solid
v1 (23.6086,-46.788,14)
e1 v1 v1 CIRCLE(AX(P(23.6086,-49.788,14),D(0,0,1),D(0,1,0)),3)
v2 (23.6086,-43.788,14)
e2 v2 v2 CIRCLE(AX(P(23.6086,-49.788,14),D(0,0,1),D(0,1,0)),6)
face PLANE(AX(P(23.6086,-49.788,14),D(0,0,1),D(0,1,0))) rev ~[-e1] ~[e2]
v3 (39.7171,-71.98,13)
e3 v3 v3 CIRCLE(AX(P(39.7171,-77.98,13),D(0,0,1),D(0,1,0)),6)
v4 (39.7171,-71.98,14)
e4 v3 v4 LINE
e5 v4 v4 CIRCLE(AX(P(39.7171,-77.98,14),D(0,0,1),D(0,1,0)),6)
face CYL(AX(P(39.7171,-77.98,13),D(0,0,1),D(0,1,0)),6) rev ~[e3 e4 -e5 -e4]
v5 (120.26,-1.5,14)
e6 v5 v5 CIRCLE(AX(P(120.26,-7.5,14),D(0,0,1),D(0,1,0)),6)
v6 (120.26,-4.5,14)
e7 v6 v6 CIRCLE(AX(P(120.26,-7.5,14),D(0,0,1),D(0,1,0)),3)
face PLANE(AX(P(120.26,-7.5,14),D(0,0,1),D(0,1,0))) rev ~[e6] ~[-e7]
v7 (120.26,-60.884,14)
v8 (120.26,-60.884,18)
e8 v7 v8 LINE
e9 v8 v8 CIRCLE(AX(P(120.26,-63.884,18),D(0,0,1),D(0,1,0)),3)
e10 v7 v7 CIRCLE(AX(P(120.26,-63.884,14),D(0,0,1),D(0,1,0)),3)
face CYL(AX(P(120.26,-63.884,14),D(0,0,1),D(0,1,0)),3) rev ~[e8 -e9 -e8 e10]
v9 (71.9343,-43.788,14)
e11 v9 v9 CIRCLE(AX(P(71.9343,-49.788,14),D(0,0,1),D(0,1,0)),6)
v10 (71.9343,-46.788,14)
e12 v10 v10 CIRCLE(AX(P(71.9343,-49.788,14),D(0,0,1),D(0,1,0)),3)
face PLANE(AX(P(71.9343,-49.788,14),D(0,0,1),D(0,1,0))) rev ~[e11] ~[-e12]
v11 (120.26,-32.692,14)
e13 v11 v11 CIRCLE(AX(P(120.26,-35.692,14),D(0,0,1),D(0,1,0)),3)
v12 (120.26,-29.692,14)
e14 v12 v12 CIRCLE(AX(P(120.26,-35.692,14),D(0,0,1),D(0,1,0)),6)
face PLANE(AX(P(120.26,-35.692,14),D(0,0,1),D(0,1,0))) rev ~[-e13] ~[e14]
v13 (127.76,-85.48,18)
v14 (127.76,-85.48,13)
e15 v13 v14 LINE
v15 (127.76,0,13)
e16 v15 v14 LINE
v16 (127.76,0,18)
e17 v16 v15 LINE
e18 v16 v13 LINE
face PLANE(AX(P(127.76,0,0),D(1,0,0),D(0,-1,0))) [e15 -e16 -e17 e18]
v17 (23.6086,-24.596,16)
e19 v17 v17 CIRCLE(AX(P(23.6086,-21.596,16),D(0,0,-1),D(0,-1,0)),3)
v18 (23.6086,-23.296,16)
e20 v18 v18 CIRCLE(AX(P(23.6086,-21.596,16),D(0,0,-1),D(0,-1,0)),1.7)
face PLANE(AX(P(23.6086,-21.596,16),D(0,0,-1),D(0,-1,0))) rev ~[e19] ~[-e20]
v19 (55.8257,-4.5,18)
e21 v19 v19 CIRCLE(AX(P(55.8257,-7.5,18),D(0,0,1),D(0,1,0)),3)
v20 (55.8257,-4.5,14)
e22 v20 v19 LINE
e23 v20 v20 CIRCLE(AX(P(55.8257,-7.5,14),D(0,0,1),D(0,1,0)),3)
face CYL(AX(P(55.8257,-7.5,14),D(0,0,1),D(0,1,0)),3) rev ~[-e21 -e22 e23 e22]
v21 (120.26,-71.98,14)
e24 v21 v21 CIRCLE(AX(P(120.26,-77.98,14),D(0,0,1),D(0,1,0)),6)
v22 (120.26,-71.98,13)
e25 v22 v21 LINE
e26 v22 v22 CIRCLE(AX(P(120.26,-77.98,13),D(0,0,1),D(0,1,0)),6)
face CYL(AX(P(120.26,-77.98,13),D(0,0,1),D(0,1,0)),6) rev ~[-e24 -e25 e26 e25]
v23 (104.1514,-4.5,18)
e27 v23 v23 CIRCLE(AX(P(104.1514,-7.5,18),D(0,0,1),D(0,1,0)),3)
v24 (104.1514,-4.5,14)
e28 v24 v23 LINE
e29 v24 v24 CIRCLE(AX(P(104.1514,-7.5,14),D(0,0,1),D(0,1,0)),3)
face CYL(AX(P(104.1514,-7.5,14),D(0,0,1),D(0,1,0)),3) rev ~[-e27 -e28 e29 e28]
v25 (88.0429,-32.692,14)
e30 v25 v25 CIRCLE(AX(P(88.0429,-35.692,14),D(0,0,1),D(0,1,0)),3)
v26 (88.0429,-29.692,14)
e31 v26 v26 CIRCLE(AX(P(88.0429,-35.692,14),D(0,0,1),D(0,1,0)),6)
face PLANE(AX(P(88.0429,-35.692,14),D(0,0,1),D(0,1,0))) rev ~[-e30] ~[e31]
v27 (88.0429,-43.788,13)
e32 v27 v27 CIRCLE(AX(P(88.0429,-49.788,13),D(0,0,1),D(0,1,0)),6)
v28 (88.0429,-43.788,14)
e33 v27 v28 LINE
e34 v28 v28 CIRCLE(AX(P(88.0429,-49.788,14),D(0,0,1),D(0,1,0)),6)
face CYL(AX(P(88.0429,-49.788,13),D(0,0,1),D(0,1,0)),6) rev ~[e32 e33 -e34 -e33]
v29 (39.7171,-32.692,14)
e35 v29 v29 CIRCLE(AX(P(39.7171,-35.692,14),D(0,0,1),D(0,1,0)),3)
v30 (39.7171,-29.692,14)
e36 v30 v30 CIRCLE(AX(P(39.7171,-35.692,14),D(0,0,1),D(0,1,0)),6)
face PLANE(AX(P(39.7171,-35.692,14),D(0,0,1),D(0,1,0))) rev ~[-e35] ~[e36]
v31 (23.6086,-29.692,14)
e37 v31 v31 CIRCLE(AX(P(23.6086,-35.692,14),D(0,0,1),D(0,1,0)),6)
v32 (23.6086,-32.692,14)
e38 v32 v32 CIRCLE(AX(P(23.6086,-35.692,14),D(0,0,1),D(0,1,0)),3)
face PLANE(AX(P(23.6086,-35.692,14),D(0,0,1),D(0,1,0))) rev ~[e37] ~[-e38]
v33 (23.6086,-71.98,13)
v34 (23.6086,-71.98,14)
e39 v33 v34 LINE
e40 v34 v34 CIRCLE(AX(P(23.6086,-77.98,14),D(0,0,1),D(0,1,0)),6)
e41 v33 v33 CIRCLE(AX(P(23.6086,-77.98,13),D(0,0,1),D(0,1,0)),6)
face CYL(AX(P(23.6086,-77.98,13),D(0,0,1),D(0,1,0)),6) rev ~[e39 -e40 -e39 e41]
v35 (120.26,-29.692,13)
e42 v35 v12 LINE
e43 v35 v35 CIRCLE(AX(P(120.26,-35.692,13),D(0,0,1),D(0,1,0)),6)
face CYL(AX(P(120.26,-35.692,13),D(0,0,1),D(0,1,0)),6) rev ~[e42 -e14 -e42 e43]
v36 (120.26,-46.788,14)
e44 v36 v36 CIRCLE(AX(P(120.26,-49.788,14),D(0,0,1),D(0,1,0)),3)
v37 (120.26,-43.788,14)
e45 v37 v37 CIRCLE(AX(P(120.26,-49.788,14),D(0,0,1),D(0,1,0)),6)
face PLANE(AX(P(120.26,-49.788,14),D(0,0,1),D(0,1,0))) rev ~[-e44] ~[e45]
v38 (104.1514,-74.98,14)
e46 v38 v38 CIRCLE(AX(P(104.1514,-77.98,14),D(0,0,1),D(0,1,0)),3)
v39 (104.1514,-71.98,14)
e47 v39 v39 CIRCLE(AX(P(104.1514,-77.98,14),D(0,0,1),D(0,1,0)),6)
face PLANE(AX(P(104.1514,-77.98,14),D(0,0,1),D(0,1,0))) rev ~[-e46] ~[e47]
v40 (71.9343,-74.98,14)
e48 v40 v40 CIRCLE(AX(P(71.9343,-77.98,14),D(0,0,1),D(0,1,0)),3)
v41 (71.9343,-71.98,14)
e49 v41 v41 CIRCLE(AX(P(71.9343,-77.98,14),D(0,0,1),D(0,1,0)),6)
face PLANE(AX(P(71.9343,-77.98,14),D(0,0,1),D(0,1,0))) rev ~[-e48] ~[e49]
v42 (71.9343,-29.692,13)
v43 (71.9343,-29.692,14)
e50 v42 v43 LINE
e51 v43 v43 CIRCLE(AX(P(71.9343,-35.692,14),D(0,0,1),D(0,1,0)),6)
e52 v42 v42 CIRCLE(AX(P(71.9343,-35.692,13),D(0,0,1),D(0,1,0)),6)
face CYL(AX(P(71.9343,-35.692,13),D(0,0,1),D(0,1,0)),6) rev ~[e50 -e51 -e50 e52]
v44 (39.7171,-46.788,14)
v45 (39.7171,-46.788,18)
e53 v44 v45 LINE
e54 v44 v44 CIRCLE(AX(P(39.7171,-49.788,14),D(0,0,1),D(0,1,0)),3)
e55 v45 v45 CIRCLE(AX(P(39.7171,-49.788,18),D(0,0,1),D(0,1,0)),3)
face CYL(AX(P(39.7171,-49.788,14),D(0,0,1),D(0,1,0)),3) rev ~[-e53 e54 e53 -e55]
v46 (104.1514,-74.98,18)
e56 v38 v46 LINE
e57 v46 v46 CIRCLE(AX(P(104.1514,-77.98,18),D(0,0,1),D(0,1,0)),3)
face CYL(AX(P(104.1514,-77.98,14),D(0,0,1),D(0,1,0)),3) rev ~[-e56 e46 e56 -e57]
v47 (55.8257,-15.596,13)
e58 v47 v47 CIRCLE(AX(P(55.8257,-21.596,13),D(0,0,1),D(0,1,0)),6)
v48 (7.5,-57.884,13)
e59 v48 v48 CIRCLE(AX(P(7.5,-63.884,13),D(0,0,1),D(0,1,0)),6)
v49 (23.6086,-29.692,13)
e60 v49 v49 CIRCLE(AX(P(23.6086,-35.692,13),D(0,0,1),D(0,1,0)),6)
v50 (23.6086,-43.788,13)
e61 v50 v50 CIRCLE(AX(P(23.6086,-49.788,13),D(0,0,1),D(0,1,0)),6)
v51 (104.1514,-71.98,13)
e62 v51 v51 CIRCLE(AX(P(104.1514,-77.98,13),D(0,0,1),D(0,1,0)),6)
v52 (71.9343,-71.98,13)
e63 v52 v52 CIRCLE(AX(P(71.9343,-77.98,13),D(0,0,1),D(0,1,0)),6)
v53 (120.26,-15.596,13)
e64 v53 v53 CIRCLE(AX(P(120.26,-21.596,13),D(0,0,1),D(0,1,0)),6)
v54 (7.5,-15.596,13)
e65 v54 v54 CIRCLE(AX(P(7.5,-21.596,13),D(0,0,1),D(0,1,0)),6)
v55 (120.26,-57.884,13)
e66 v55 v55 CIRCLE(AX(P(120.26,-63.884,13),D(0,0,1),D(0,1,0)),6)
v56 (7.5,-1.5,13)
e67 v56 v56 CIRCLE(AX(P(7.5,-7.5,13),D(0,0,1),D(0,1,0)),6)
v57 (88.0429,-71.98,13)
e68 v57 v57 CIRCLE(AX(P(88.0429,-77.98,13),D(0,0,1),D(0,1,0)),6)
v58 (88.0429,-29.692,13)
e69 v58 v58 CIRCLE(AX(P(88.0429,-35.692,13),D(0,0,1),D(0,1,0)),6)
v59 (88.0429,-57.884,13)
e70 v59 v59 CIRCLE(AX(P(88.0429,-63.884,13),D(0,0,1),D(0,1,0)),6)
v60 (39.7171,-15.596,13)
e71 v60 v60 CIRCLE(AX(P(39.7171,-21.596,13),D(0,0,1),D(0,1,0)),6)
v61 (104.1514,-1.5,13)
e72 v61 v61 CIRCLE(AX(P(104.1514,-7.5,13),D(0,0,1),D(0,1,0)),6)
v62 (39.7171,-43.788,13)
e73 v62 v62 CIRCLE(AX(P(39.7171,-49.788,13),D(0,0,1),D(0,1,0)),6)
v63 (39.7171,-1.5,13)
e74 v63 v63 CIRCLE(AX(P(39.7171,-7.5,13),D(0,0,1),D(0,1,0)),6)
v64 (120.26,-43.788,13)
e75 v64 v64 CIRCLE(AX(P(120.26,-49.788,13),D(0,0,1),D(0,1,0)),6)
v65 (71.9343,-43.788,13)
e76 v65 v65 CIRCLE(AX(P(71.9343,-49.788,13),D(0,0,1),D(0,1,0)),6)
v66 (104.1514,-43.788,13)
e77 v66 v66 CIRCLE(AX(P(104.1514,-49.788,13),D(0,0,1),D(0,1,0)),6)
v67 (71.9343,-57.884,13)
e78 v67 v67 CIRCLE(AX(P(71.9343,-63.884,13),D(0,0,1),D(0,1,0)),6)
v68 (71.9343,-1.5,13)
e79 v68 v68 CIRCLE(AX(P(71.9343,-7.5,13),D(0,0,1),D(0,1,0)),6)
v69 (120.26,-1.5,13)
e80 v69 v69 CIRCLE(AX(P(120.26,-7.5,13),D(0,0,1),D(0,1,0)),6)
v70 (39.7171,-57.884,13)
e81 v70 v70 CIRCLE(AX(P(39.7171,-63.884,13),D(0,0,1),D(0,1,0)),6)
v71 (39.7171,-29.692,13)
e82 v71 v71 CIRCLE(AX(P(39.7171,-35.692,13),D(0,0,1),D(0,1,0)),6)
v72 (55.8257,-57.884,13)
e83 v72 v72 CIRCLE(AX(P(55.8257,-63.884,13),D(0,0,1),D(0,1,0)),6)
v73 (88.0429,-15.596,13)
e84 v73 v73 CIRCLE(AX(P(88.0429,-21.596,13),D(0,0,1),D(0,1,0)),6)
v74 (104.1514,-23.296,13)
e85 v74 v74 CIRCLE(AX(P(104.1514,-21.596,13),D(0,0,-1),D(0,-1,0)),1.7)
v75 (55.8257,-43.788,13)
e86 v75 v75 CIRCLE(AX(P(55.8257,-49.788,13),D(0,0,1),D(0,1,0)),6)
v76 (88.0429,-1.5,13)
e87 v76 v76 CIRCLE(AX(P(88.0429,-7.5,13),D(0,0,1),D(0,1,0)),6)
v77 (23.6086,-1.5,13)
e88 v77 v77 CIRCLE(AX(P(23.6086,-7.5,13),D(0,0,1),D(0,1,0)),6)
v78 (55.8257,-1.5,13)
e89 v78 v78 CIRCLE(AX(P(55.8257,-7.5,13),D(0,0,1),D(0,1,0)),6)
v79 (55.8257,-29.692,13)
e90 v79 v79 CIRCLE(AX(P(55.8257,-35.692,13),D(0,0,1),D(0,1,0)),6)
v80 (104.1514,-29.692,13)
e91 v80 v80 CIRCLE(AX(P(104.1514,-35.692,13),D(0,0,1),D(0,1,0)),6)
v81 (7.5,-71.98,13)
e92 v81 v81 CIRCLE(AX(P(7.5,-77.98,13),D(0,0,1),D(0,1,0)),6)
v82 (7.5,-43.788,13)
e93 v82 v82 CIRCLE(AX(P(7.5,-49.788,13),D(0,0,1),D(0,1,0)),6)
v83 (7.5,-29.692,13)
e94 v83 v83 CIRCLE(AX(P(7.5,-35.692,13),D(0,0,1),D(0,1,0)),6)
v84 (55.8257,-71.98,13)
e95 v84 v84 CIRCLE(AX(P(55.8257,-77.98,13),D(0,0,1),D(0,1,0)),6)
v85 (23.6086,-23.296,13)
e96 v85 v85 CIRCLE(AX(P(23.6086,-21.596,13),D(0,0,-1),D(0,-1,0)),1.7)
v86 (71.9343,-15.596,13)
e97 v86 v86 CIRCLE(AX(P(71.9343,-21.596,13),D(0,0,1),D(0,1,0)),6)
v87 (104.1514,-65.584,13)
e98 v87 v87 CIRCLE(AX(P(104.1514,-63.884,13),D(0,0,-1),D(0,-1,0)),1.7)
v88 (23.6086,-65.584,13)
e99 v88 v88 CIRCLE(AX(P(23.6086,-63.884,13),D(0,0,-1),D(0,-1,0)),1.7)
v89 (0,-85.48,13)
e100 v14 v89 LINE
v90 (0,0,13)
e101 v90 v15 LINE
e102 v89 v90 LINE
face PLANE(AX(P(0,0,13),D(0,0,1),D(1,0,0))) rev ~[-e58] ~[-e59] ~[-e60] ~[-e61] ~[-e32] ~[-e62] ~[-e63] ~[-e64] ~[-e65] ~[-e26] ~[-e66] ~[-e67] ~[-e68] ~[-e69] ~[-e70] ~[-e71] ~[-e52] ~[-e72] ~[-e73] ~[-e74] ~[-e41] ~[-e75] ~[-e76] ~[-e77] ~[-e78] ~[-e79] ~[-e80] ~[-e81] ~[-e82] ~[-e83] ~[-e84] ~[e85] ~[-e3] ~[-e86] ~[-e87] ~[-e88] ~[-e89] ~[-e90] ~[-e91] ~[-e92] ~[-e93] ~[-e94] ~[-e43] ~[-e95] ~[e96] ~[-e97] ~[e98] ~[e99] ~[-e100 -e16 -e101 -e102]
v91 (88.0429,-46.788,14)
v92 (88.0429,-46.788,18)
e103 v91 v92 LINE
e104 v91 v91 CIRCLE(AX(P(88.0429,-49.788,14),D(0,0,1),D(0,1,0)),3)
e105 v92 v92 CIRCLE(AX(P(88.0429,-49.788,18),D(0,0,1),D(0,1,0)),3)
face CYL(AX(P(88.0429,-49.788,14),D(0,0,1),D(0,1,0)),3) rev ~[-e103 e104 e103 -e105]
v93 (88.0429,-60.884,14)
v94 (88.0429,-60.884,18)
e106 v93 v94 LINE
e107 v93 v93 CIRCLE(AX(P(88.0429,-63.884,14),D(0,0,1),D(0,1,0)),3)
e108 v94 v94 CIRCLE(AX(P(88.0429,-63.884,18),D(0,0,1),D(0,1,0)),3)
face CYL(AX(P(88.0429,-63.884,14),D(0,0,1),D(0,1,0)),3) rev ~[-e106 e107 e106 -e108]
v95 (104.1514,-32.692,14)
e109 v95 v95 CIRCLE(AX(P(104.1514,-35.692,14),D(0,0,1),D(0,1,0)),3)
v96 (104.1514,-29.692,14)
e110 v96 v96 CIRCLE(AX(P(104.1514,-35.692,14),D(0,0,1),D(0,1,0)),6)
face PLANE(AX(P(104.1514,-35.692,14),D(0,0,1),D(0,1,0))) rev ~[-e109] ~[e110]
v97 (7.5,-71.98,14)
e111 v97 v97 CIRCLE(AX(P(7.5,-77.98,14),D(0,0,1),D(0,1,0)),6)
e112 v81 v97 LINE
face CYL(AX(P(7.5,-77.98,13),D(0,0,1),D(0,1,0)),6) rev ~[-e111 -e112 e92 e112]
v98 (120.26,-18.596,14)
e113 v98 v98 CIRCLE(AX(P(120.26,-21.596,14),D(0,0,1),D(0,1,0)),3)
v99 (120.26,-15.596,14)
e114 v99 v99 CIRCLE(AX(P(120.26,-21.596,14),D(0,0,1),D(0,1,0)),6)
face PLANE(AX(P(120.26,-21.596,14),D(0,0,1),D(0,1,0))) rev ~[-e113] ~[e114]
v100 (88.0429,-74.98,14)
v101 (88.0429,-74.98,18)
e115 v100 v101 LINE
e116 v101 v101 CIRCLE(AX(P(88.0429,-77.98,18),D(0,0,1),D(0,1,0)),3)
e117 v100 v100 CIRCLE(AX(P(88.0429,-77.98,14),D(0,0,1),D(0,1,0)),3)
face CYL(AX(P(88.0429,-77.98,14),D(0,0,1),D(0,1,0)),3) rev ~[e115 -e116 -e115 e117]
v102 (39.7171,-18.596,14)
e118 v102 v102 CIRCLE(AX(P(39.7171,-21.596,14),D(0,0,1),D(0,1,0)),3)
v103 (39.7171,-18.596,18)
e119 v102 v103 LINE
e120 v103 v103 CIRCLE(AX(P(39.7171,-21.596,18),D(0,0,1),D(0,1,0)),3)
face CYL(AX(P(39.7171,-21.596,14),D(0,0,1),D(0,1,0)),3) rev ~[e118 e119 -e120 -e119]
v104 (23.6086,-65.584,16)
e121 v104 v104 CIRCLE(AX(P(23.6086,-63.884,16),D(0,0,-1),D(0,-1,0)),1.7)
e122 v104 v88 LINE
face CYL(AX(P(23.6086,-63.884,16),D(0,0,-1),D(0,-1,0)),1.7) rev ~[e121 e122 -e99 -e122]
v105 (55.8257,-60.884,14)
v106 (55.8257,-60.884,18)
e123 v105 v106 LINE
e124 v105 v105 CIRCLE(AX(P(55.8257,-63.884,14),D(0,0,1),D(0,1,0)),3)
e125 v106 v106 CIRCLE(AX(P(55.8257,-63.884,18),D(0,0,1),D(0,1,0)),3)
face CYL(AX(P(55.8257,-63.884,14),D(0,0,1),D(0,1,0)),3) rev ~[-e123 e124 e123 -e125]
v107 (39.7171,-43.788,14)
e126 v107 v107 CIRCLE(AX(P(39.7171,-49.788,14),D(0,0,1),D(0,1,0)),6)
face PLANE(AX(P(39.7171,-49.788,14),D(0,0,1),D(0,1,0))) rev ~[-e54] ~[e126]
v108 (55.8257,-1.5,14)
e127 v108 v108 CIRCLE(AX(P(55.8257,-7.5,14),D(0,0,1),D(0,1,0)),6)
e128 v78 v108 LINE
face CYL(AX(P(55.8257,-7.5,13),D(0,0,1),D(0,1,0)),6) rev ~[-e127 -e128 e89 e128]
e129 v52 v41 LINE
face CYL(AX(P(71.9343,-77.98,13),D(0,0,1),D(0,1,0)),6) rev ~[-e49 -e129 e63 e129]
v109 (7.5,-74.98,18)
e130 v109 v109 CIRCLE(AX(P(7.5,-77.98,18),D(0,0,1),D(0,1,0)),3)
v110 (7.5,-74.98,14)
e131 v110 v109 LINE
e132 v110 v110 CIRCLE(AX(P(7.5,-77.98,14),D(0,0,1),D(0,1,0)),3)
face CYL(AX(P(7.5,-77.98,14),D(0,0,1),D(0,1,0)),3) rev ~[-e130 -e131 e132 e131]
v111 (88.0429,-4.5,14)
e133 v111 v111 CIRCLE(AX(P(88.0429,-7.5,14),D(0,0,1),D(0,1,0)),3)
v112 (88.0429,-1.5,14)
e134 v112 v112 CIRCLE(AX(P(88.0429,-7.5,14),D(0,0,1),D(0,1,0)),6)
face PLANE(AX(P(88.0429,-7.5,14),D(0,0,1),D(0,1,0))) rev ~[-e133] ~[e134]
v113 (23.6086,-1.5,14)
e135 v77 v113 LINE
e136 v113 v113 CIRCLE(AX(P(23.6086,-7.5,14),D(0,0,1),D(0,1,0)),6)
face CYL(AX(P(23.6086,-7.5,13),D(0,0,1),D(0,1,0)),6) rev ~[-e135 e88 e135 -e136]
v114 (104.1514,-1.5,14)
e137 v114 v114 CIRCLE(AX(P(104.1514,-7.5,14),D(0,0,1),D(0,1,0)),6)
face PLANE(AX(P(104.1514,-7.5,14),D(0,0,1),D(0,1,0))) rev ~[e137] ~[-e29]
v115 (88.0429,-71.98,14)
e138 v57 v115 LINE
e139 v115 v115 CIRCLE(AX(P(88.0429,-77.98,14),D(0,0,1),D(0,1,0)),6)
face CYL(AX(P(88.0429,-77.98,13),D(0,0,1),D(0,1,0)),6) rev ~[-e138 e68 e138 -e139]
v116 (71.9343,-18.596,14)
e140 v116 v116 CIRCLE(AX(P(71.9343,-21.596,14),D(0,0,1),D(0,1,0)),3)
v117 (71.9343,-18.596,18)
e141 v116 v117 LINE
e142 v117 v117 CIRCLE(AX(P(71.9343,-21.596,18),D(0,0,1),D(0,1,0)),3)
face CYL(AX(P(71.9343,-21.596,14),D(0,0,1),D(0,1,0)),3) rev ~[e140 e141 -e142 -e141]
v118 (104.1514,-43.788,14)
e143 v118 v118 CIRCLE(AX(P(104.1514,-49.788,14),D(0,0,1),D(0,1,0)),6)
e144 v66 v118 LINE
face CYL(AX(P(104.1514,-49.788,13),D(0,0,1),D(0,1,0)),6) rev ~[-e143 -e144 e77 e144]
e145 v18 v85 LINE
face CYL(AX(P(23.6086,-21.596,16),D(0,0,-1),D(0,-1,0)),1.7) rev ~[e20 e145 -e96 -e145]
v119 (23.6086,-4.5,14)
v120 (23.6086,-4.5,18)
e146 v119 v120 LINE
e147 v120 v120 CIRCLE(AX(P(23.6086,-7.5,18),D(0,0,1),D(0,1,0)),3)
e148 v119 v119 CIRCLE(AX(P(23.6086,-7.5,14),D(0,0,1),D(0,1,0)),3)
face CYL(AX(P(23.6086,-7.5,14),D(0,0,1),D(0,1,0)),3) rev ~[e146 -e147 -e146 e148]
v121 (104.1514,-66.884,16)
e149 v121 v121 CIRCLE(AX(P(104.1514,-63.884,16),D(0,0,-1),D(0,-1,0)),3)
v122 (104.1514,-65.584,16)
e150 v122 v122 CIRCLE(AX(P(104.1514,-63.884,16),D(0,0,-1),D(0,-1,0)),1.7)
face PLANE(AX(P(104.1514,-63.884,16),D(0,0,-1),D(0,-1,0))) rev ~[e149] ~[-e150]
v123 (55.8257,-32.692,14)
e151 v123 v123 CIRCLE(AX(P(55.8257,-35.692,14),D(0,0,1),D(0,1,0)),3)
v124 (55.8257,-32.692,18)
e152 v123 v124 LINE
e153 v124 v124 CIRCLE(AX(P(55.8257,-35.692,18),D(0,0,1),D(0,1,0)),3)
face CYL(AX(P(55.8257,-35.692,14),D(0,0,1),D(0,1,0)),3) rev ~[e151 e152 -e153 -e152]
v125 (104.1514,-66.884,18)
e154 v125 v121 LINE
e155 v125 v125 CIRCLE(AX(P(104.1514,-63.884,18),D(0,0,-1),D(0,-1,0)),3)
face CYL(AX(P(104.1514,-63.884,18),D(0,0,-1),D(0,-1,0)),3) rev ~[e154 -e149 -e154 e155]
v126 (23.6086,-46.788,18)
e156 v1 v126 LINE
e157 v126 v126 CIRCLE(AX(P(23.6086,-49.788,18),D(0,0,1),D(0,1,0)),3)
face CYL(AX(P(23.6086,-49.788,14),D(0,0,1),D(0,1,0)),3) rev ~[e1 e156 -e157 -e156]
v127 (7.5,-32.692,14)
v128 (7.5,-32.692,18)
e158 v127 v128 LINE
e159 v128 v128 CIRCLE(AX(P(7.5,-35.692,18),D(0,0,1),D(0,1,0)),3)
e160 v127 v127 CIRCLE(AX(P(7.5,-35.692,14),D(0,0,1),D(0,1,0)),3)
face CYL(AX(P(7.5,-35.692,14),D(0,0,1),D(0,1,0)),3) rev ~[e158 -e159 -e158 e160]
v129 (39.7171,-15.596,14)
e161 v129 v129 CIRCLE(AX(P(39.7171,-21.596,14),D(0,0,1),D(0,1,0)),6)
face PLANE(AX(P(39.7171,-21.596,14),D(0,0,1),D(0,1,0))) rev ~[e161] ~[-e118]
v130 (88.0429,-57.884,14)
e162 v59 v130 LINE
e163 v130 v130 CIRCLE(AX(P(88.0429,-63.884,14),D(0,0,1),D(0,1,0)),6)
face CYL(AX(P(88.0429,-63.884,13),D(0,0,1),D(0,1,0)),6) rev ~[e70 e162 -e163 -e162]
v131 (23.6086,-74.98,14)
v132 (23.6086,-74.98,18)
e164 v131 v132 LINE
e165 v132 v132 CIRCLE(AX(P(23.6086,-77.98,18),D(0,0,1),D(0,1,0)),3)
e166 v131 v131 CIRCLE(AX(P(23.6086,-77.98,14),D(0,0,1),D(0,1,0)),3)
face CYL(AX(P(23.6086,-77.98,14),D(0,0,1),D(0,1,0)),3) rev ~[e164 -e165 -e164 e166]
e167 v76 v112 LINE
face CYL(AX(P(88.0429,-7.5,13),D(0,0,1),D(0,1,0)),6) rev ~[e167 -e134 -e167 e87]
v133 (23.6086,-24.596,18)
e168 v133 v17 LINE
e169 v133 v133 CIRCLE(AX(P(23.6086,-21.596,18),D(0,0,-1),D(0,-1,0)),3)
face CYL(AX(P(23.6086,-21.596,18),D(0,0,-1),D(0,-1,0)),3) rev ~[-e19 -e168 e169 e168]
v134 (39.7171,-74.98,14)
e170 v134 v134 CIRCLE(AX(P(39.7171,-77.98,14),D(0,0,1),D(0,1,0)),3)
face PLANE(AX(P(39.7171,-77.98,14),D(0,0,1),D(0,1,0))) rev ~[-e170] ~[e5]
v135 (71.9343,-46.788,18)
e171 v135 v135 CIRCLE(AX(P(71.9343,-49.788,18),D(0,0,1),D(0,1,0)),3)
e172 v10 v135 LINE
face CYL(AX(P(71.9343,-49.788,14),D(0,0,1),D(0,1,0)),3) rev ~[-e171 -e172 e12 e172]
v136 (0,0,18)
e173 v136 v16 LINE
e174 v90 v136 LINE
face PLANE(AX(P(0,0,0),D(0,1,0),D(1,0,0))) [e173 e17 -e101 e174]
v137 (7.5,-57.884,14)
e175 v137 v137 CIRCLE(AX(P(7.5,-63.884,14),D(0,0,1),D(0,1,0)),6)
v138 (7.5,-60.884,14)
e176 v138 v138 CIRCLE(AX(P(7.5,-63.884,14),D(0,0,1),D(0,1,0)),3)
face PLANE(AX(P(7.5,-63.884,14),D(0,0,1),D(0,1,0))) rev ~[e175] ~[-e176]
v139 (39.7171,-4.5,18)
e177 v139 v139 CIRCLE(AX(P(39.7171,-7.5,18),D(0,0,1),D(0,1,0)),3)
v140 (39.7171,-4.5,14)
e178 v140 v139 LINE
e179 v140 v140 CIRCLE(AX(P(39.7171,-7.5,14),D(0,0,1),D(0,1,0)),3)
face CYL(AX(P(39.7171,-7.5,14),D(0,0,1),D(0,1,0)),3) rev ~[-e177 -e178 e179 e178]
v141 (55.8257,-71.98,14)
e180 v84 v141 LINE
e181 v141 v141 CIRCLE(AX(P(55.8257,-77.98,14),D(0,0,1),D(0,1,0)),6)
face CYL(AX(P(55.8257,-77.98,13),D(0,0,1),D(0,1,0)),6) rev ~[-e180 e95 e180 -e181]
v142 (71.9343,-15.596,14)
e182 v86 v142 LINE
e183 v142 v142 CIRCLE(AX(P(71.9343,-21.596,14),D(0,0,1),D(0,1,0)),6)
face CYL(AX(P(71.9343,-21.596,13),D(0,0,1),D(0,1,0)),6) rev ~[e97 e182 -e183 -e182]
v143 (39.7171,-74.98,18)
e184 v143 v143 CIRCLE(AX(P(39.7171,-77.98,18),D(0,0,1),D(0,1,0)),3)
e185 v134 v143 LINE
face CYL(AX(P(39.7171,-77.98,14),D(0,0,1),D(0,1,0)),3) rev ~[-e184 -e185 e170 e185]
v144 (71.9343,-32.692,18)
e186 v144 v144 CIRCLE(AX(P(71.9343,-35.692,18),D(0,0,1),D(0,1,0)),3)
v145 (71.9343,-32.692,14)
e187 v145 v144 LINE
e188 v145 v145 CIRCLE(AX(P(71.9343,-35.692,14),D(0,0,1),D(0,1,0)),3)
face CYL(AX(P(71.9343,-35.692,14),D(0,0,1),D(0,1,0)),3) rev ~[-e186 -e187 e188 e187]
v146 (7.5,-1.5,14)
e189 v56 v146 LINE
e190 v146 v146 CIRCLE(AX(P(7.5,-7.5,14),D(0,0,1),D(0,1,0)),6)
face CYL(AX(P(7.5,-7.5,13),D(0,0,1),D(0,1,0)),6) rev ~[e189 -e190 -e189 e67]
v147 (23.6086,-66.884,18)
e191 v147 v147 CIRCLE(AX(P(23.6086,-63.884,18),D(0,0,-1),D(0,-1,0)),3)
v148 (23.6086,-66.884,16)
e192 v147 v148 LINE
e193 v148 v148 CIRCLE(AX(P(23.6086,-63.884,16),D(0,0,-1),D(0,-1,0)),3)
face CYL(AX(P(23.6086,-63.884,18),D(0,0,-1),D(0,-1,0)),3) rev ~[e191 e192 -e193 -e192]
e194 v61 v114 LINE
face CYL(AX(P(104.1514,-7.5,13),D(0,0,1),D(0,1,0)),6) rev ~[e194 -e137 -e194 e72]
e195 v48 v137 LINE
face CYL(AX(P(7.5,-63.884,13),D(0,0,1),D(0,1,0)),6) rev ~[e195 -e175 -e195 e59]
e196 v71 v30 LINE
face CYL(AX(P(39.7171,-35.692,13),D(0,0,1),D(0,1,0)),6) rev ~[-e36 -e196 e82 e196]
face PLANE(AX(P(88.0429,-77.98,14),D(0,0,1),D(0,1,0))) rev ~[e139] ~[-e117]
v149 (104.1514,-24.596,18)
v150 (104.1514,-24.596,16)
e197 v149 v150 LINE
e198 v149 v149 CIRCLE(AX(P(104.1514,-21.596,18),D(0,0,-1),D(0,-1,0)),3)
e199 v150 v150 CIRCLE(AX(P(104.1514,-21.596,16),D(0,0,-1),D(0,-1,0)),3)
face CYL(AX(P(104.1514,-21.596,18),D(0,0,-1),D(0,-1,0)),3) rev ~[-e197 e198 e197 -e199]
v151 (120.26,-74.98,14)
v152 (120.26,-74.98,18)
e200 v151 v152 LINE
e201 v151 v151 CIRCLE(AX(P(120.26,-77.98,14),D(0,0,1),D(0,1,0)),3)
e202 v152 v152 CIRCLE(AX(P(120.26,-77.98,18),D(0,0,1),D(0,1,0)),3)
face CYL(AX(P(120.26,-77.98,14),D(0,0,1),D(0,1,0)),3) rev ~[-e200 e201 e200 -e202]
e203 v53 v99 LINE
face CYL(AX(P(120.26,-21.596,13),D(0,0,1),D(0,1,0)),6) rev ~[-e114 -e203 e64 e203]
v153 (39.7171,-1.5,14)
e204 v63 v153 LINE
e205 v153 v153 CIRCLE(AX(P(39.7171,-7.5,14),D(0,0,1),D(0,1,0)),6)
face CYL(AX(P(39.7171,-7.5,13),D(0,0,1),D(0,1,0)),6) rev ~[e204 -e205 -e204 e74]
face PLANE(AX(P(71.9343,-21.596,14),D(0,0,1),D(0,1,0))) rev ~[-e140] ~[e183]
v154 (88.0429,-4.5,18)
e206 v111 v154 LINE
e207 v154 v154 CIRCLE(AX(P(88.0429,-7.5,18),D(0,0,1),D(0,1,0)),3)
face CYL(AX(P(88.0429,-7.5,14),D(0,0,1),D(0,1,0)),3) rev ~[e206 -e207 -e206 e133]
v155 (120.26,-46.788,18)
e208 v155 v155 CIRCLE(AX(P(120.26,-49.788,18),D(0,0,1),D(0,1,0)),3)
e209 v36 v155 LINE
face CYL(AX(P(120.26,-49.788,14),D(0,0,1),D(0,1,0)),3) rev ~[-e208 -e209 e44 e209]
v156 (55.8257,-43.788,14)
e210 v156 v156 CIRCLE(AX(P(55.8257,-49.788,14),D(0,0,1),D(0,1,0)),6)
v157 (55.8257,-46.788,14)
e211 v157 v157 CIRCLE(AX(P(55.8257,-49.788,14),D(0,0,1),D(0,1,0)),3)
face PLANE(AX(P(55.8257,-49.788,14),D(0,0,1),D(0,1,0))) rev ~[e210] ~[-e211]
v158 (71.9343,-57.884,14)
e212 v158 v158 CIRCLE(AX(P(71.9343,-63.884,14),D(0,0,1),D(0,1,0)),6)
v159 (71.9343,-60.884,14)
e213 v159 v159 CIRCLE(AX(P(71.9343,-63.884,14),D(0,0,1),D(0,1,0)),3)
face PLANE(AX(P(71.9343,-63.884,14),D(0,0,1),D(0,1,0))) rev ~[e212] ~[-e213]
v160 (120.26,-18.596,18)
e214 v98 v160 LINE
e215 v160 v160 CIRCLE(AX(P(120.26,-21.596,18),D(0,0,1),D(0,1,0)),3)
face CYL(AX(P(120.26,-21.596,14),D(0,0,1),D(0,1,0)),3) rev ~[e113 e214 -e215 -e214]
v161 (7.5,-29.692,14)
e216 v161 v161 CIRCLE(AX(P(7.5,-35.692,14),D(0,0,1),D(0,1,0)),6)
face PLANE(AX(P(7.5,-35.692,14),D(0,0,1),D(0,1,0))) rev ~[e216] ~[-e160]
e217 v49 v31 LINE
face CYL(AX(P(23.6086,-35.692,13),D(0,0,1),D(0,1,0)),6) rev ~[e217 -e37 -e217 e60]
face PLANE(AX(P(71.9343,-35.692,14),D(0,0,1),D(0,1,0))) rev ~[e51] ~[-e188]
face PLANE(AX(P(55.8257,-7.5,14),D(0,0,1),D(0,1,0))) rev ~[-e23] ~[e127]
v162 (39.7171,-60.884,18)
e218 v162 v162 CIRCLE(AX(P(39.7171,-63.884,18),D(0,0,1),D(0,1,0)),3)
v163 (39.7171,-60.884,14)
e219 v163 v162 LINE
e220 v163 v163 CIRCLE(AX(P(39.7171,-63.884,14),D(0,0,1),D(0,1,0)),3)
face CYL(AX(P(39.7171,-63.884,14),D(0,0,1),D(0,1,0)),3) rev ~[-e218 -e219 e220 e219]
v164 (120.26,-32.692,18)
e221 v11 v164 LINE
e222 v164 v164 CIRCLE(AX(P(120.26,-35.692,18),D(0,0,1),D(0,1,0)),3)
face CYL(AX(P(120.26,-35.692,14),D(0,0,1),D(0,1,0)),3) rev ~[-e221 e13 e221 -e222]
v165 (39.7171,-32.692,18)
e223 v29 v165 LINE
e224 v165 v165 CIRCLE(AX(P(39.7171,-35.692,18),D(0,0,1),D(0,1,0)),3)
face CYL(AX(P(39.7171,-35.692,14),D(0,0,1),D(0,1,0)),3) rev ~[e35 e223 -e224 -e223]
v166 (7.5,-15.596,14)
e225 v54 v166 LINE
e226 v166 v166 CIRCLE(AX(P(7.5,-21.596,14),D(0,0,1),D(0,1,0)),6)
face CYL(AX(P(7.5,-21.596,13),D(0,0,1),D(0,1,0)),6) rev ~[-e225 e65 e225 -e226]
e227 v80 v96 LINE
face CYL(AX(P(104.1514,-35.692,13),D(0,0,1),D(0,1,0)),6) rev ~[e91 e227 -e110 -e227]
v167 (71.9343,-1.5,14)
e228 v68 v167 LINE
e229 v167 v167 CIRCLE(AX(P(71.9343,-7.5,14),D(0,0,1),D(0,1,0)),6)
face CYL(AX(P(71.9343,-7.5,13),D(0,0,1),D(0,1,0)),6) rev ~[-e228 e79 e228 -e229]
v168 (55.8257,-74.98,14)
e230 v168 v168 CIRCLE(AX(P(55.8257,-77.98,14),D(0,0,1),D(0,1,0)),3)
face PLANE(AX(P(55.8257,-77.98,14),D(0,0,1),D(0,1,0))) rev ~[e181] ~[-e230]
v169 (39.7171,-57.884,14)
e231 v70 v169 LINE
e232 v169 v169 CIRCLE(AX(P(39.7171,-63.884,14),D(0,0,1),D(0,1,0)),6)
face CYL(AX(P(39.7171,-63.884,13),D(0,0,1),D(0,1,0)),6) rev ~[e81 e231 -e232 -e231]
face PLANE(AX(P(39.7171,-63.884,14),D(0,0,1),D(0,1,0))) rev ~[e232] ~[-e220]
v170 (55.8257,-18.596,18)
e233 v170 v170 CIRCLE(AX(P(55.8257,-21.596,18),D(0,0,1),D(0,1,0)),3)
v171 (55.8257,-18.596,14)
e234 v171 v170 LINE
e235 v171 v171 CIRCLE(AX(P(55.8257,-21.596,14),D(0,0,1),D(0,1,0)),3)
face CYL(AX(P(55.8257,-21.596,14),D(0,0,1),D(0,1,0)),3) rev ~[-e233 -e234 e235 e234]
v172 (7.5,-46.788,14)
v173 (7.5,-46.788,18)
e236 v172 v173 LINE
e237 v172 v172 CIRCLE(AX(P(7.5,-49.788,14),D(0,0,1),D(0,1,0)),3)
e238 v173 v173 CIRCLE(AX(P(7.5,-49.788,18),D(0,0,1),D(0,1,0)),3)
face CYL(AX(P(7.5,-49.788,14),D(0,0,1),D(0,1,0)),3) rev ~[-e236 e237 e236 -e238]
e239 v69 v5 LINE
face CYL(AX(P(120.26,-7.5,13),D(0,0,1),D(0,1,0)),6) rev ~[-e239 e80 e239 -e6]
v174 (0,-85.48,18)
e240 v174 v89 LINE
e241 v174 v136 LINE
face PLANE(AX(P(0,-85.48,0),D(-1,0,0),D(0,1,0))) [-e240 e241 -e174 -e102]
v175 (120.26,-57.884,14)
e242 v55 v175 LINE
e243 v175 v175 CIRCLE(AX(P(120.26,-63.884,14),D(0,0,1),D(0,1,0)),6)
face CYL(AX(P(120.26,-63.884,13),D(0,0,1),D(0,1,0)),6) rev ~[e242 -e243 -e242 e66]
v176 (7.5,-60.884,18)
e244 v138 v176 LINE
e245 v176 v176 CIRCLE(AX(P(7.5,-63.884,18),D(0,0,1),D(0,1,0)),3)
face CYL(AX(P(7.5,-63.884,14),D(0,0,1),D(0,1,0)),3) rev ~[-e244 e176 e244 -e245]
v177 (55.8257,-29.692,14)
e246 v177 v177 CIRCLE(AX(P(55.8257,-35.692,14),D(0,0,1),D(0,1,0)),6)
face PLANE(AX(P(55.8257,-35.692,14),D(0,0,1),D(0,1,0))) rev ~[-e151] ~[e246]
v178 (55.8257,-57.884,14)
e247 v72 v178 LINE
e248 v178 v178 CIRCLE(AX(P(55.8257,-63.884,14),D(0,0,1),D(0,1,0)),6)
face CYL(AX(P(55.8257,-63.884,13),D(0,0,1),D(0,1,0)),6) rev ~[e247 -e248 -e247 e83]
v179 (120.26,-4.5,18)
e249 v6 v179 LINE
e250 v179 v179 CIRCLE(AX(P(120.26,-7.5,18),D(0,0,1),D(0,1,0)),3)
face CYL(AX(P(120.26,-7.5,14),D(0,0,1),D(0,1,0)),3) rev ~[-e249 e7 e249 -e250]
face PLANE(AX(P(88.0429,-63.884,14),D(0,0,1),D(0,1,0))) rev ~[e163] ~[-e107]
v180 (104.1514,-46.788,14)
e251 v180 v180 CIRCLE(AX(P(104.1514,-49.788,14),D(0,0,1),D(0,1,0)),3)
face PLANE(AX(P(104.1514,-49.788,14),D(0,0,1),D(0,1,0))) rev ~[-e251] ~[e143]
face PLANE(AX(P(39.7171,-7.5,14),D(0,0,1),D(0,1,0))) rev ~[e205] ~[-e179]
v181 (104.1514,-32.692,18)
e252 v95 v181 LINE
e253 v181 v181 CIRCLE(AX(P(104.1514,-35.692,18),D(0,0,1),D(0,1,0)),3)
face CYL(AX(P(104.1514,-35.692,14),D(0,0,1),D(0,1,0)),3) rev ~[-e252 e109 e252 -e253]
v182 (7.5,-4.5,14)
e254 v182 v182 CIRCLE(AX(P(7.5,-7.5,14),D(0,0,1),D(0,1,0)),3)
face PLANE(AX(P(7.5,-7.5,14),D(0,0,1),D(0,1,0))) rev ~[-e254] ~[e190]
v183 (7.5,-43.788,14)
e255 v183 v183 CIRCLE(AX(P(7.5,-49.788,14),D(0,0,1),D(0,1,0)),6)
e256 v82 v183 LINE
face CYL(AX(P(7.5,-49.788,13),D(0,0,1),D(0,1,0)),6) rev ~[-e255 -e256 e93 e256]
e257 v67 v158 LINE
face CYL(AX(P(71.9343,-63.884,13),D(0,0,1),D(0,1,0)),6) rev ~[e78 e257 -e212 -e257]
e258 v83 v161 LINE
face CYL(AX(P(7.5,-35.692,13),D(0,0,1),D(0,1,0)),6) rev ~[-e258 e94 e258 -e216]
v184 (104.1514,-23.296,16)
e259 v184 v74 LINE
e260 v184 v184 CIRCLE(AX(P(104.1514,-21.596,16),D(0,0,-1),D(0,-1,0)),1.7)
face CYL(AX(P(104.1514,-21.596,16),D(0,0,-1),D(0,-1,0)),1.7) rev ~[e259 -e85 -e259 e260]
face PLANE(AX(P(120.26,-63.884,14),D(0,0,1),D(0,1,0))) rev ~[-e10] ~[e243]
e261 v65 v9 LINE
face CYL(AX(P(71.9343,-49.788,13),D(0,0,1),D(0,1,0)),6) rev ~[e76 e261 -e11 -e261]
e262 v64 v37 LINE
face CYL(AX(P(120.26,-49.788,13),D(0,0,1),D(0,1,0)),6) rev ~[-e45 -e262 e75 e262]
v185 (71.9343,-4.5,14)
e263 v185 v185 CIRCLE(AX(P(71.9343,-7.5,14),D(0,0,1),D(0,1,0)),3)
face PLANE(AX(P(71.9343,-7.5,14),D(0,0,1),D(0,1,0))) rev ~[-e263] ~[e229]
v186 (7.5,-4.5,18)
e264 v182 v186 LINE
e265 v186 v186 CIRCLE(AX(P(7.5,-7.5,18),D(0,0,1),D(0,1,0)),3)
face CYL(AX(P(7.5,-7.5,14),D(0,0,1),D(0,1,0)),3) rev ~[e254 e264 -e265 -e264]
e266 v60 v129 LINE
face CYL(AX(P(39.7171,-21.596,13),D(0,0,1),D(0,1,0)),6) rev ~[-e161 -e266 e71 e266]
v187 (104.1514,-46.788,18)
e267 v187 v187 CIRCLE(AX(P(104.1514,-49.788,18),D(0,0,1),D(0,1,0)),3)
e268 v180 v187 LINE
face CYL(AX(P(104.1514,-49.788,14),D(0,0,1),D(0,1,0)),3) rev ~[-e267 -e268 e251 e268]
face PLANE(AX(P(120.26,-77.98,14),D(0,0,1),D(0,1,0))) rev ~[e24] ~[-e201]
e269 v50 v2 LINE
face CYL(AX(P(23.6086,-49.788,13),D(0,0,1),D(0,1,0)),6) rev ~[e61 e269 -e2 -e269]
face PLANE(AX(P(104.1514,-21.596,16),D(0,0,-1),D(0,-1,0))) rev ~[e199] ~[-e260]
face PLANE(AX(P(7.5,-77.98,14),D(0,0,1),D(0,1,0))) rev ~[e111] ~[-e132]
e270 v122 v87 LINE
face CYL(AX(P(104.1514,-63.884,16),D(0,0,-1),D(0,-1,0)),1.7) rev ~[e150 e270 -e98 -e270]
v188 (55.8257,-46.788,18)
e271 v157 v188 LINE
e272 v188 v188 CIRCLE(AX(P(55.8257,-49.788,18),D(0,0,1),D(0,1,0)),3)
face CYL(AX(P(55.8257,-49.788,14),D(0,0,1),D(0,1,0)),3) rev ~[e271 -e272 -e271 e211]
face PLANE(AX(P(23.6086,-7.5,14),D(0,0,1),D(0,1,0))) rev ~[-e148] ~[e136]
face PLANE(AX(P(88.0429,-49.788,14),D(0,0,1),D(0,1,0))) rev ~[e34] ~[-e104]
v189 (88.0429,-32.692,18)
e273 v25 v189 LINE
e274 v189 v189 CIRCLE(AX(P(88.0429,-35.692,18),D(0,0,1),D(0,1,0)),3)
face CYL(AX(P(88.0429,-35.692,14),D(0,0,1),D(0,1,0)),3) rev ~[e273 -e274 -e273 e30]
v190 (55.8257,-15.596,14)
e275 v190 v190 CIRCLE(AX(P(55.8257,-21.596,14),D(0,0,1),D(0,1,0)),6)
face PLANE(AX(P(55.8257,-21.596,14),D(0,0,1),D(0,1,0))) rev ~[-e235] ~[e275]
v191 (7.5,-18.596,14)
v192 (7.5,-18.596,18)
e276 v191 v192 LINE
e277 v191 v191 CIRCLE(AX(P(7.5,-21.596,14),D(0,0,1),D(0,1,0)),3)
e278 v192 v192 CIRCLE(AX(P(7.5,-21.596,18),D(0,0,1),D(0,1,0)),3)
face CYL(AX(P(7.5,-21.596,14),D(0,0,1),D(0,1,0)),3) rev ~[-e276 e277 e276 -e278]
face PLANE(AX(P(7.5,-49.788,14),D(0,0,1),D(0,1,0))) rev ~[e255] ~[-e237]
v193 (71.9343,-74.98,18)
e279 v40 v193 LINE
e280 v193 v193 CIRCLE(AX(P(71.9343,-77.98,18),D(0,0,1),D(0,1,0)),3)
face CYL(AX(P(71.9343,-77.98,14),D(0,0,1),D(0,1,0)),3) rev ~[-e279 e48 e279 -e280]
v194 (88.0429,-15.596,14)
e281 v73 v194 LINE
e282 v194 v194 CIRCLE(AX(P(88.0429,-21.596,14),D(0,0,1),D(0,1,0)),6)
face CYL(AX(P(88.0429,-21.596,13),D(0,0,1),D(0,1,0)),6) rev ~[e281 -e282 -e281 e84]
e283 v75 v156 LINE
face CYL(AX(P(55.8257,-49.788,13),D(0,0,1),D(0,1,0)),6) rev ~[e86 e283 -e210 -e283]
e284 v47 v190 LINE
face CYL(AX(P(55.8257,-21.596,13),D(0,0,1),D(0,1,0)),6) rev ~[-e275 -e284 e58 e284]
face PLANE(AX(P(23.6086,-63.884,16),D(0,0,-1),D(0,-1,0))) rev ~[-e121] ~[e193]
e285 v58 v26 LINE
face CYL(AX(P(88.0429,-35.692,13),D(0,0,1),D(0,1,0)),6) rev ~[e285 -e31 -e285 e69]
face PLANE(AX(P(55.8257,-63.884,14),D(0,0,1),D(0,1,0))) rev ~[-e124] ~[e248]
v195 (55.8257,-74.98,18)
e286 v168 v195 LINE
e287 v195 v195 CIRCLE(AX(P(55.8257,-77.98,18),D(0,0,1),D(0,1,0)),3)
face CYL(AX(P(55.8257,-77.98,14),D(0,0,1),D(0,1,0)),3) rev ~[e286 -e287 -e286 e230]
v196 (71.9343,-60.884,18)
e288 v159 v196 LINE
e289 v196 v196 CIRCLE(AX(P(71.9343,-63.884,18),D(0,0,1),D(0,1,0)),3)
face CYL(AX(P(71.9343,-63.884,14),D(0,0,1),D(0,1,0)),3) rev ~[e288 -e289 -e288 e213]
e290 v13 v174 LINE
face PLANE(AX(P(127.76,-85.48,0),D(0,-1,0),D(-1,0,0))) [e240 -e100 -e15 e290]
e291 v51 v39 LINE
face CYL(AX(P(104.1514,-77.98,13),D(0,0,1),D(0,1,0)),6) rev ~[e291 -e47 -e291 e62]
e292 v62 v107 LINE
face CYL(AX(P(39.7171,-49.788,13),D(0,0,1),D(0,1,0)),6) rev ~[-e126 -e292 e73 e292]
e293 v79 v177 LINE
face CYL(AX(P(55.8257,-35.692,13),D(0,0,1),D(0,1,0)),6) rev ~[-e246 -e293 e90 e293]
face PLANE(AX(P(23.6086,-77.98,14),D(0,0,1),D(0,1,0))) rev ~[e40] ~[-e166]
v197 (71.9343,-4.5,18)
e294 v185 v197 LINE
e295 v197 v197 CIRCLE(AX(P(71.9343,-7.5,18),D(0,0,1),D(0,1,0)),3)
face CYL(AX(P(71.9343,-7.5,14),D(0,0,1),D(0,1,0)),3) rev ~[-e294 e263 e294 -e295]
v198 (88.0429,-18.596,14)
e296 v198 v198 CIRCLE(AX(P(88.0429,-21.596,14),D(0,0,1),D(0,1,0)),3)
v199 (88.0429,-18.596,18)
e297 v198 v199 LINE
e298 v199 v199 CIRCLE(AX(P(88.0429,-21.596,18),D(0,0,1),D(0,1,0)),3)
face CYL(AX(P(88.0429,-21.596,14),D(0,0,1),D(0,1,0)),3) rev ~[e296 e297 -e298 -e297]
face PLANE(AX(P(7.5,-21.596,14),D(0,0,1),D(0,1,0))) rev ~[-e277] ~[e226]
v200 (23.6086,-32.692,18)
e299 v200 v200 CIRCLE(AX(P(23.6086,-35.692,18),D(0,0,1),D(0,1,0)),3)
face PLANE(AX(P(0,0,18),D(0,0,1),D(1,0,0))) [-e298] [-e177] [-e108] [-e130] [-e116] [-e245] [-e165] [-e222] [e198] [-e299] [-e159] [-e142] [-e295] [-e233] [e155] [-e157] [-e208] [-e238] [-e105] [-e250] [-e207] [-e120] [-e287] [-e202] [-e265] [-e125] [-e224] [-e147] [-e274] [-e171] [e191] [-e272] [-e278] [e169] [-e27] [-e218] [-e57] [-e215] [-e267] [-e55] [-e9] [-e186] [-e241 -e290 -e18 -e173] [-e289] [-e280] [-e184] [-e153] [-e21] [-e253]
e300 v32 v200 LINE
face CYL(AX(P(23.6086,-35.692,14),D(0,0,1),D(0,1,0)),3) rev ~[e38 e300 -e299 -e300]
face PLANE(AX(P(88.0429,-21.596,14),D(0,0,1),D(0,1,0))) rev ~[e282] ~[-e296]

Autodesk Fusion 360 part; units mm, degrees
sketch "Sketch1" plane through (0, 0, 0) normal (0, 0, 1) x (1, 0, 0)
  line L0 (0, 0) -> (127.76, 0)
  line L1 (127.76, 0) -> (127.76, -85.48)
  line L2 (127.76, -85.48) -> (0, -85.48)
  line L3 (0, -85.48) -> (0, 0)
  dimension "d1" = 127.76
  dimension "d2" = 85.48
extrude "Extrude1" add sketch "Sketch1" along normal blind 18
move_face "OffsetFaces1" offset -13 1 faces at (42.5867, -28.4933, 0)
sketch "Sketch2" plane through (0, 0, 13) normal (0, 0, 1) x (-1, 0, 0)
  line L0 (0, 85.48) -> (-127.76, 85.48)
  line L1 (-127.76, 85.48) -> (-127.76, 0)
  line L2 (-127.76, 0) -> (0, 0)
  line L3 (0, 0) -> (0, 85.48)
  line L4 (0, 85.48) -> (-127.76, 85.48)
  line L5 (-127.76, 85.48) -> (-127.76, 0)
  line L6 (-127.76, 0) -> (0, 0)
  line L7 (0, 0) -> (0, 85.48)
  line L8 (-127.76, 85.48) -> (0, 85.48)
  line L9 (0, 85.48) -> (0, 0)
  line L10 (0, 0) -> (-127.76, 0)
  line L11 (-127.76, 0) -> (-127.76, 85.48)
  line L12 (-127.76, 85.48) -> (0, 85.48)
  line L13 (0, 85.48) -> (0, 0)
  line L14 (0, 0) -> (-127.76, 0)
  line L15 (-127.76, 0) -> (-127.76, 85.48)
  point P0 (-7.5, 7.5)
  point P1 (-23.6086, 7.5)
  point P2 (-39.7171, 7.5)
  point P3 (-55.8257, 7.5)
  point P4 (-71.9343, 7.5)
  point P5 (-88.0429, 7.5)
  point P6 (-104.1514, 7.5)
  point P7 (-120.26, 7.5)
  point P8 (-7.5, 21.596)
  point P9 (-23.6086, 21.596)
  point P10 (-39.7171, 21.596)
  point P11 (-55.8257, 21.596)
  point P12 (-71.9343, 21.596)
  point P13 (-88.0429, 21.596)
  point P14 (-104.1514, 21.596)
  point P15 (-120.26, 21.596)
  point P16 (-7.5, 35.692)
  point P17 (-23.6086, 35.692)
  point P18 (-39.7171, 35.692)
  point P19 (-55.8257, 35.692)
  point P20 (-71.9343, 35.692)
  point P21 (-88.0429, 35.692)
  point P22 (-104.1514, 35.692)
  point P23 (-120.26, 35.692)
  point P24 (-7.5, 49.788)
  point P25 (-23.6086, 49.788)
  point P26 (-39.7171, 49.788)
  point P27 (-55.8257, 49.788)
  point P28 (-71.9343, 49.788)
  point P29 (-88.0429, 49.788)
  point P30 (-104.1514, 49.788)
  point P31 (-120.26, 49.788)
  point P32 (-7.5, 63.884)
  point P33 (-23.6086, 63.884)
  point P34 (-39.7171, 63.884)
  point P35 (-55.8257, 63.884)
  point P36 (-71.9343, 63.884)
  point P37 (-88.0429, 63.884)
  point P38 (-104.1514, 63.884)
  point P39 (-120.26, 63.884)
  point P40 (-7.5, 77.98)
  point P41 (-23.6086, 77.98)
  point P42 (-39.7171, 77.98)
  point P43 (-55.8257, 77.98)
  point P44 (-71.9343, 77.98)
  point P45 (-88.0429, 77.98)
  point P46 (-104.1514, 77.98)
  point P47 (-120.26, 77.98)
  dimension "d7" = -16.1086
  dimension "d8" = 14.096
hole "Hole1" at (7.5, -7.5, 13) at (23.6086, -7.5, 13) at (39.7171, -7.5, 13) at (55.8257, -7.5, 13) at (71.9343, -7.5, 13) at (88.0429, -7.5, 13) at (104.1514, -7.5, 13) at (120.26, -7.5, 13) at (7.5, -21.596, 13) at (39.7171, -21.596, 13) at (55.8257, -21.596, 13) at (71.9343, -21.596, 13) at (88.0429, -21.596, 13) at (120.26, -21.596, 13) at (120.26, -63.884, 13) at (7.5, -77.98, 13) at (7.5, -35.692, 13) at (7.5, -49.788, 13) at (7.5, -63.884, 13) at (120.26, -35.692, 13) at (55.8257, -35.692, 13) at (39.7171, -77.98, 13) at (88.0429, -35.692, 13) at (55.8257, -77.98, 13) at (23.6086, -35.692, 13) at (88.0429, -63.884, 13) at (39.7171, -49.788, 13) at (71.9343, -35.692, 13) at (120.26, -49.788, 13) at (88.0429, -77.98, 13) at (104.1514, -35.692, 13) at (88.0429, -49.788, 13) at (104.1514, -49.788, 13) at (120.26, -77.98, 13) at (71.9343, -77.98, 13) at (71.9343, -49.788, 13) at (104.1514, -77.98, 13) at (39.7171, -63.884, 13) at (23.6086, -49.788, 13) at (71.9343, -63.884, 13) at (55.8257, -49.788, 13) at (23.6086, -77.98, 13) at (39.7171, -35.692, 13) at (55.8257, -63.884, 13) direction (0, 0, 1) diameter 6 depth 13 tip angle 180 counterbore diameter 12 counterbore depth 1
sketch "Sketch6" plane through (0, 0, 18) normal (0, 0, 1) x (-1, 0, 0)
  line L0 (0, 85.48) -> (-127.76, 85.48)
  line L1 (-127.76, 85.48) -> (-127.76, 0)
  line L2 (-127.76, 0) -> (0, 0)
  line L3 (0, 0) -> (0, 85.48)
  circle A0 centre (-39.7171, 35.692) radius 3
  circle A1 centre (-55.8257, 49.788) radius 3
  circle A2 centre (-23.6086, 49.788) radius 3
  circle A3 centre (-104.1514, 77.98) radius 3
  circle A4 centre (-71.9343, 77.98) radius 3
  circle A5 centre (-104.1514, 49.788) radius 3
  circle A6 centre (-104.1514, 35.692) radius 3
  circle A7 centre (-120.26, 49.788) radius 3
  circle A8 centre (-39.7171, 49.788) radius 3
  circle A9 centre (-23.6086, 35.692) radius 3
  circle A10 centre (-88.0429, 35.692) radius 3
  circle A11 centre (-55.8257, 35.692) radius 3
  circle A12 centre (-7.5, 63.884) radius 3
  circle A13 centre (-7.5, 35.692) radius 3
  circle A14 centre (-120.26, 63.884) radius 3
  circle A15 centre (-88.0429, 21.596) radius 3
  circle A16 centre (-55.8257, 21.596) radius 3
  circle A17 centre (-7.5, 21.596) radius 3
  circle A18 centre (-104.1514, 7.5) radius 3
  circle A19 centre (-71.9343, 7.5) radius 3
  circle A20 centre (-39.7171, 7.5) radius 3
  circle A21 centre (-7.5, 7.5) radius 3
  circle A22 centre (-23.6086, 7.5) radius 3
  circle A23 centre (-55.8257, 7.5) radius 3
  circle A24 centre (-88.0429, 7.5) radius 3
  circle A25 centre (-120.26, 7.5) radius 3
  circle A26 centre (-39.7171, 21.596) radius 3
  circle A27 centre (-71.9343, 21.596) radius 3
  circle A28 centre (-120.26, 21.596) radius 3
  circle A29 centre (-7.5, 77.98) radius 3
  circle A30 centre (-7.5, 49.788) radius 3
  circle A31 centre (-120.26, 35.692) radius 3
  circle A32 centre (-39.7171, 77.98) radius 3
  circle A33 centre (-55.8257, 77.98) radius 3
  circle A34 centre (-88.0429, 63.884) radius 3
  circle A35 centre (-71.9343, 35.692) radius 3
  circle A36 centre (-88.0429, 77.98) radius 3
  circle A37 centre (-88.0429, 49.788) radius 3
  circle A38 centre (-120.26, 77.98) radius 3
  circle A39 centre (-71.9343, 49.788) radius 3
  circle A40 centre (-39.7171, 63.884) radius 3
  circle A41 centre (-71.9343, 63.884) radius 3
  circle A42 centre (-23.6086, 77.98) radius 3
  circle A43 centre (-55.8257, 63.884) radius 3
  point P0 (-104.1514, 63.884)
  point P1 (-104.1514, 21.596)
  point P2 (-23.6086, 21.596)
  point P3 (-23.6086, 63.884)
hole "Hole2" at (104.1514, -63.884, 18) at (104.1514, -21.596, 18) at (23.6086, -63.884, 18) at (23.6086, -21.596, 18) direction (0, 0, -1) diameter 3.4 depth 20 tip angle 180 counterbore diameter 6 counterbore depth 2
